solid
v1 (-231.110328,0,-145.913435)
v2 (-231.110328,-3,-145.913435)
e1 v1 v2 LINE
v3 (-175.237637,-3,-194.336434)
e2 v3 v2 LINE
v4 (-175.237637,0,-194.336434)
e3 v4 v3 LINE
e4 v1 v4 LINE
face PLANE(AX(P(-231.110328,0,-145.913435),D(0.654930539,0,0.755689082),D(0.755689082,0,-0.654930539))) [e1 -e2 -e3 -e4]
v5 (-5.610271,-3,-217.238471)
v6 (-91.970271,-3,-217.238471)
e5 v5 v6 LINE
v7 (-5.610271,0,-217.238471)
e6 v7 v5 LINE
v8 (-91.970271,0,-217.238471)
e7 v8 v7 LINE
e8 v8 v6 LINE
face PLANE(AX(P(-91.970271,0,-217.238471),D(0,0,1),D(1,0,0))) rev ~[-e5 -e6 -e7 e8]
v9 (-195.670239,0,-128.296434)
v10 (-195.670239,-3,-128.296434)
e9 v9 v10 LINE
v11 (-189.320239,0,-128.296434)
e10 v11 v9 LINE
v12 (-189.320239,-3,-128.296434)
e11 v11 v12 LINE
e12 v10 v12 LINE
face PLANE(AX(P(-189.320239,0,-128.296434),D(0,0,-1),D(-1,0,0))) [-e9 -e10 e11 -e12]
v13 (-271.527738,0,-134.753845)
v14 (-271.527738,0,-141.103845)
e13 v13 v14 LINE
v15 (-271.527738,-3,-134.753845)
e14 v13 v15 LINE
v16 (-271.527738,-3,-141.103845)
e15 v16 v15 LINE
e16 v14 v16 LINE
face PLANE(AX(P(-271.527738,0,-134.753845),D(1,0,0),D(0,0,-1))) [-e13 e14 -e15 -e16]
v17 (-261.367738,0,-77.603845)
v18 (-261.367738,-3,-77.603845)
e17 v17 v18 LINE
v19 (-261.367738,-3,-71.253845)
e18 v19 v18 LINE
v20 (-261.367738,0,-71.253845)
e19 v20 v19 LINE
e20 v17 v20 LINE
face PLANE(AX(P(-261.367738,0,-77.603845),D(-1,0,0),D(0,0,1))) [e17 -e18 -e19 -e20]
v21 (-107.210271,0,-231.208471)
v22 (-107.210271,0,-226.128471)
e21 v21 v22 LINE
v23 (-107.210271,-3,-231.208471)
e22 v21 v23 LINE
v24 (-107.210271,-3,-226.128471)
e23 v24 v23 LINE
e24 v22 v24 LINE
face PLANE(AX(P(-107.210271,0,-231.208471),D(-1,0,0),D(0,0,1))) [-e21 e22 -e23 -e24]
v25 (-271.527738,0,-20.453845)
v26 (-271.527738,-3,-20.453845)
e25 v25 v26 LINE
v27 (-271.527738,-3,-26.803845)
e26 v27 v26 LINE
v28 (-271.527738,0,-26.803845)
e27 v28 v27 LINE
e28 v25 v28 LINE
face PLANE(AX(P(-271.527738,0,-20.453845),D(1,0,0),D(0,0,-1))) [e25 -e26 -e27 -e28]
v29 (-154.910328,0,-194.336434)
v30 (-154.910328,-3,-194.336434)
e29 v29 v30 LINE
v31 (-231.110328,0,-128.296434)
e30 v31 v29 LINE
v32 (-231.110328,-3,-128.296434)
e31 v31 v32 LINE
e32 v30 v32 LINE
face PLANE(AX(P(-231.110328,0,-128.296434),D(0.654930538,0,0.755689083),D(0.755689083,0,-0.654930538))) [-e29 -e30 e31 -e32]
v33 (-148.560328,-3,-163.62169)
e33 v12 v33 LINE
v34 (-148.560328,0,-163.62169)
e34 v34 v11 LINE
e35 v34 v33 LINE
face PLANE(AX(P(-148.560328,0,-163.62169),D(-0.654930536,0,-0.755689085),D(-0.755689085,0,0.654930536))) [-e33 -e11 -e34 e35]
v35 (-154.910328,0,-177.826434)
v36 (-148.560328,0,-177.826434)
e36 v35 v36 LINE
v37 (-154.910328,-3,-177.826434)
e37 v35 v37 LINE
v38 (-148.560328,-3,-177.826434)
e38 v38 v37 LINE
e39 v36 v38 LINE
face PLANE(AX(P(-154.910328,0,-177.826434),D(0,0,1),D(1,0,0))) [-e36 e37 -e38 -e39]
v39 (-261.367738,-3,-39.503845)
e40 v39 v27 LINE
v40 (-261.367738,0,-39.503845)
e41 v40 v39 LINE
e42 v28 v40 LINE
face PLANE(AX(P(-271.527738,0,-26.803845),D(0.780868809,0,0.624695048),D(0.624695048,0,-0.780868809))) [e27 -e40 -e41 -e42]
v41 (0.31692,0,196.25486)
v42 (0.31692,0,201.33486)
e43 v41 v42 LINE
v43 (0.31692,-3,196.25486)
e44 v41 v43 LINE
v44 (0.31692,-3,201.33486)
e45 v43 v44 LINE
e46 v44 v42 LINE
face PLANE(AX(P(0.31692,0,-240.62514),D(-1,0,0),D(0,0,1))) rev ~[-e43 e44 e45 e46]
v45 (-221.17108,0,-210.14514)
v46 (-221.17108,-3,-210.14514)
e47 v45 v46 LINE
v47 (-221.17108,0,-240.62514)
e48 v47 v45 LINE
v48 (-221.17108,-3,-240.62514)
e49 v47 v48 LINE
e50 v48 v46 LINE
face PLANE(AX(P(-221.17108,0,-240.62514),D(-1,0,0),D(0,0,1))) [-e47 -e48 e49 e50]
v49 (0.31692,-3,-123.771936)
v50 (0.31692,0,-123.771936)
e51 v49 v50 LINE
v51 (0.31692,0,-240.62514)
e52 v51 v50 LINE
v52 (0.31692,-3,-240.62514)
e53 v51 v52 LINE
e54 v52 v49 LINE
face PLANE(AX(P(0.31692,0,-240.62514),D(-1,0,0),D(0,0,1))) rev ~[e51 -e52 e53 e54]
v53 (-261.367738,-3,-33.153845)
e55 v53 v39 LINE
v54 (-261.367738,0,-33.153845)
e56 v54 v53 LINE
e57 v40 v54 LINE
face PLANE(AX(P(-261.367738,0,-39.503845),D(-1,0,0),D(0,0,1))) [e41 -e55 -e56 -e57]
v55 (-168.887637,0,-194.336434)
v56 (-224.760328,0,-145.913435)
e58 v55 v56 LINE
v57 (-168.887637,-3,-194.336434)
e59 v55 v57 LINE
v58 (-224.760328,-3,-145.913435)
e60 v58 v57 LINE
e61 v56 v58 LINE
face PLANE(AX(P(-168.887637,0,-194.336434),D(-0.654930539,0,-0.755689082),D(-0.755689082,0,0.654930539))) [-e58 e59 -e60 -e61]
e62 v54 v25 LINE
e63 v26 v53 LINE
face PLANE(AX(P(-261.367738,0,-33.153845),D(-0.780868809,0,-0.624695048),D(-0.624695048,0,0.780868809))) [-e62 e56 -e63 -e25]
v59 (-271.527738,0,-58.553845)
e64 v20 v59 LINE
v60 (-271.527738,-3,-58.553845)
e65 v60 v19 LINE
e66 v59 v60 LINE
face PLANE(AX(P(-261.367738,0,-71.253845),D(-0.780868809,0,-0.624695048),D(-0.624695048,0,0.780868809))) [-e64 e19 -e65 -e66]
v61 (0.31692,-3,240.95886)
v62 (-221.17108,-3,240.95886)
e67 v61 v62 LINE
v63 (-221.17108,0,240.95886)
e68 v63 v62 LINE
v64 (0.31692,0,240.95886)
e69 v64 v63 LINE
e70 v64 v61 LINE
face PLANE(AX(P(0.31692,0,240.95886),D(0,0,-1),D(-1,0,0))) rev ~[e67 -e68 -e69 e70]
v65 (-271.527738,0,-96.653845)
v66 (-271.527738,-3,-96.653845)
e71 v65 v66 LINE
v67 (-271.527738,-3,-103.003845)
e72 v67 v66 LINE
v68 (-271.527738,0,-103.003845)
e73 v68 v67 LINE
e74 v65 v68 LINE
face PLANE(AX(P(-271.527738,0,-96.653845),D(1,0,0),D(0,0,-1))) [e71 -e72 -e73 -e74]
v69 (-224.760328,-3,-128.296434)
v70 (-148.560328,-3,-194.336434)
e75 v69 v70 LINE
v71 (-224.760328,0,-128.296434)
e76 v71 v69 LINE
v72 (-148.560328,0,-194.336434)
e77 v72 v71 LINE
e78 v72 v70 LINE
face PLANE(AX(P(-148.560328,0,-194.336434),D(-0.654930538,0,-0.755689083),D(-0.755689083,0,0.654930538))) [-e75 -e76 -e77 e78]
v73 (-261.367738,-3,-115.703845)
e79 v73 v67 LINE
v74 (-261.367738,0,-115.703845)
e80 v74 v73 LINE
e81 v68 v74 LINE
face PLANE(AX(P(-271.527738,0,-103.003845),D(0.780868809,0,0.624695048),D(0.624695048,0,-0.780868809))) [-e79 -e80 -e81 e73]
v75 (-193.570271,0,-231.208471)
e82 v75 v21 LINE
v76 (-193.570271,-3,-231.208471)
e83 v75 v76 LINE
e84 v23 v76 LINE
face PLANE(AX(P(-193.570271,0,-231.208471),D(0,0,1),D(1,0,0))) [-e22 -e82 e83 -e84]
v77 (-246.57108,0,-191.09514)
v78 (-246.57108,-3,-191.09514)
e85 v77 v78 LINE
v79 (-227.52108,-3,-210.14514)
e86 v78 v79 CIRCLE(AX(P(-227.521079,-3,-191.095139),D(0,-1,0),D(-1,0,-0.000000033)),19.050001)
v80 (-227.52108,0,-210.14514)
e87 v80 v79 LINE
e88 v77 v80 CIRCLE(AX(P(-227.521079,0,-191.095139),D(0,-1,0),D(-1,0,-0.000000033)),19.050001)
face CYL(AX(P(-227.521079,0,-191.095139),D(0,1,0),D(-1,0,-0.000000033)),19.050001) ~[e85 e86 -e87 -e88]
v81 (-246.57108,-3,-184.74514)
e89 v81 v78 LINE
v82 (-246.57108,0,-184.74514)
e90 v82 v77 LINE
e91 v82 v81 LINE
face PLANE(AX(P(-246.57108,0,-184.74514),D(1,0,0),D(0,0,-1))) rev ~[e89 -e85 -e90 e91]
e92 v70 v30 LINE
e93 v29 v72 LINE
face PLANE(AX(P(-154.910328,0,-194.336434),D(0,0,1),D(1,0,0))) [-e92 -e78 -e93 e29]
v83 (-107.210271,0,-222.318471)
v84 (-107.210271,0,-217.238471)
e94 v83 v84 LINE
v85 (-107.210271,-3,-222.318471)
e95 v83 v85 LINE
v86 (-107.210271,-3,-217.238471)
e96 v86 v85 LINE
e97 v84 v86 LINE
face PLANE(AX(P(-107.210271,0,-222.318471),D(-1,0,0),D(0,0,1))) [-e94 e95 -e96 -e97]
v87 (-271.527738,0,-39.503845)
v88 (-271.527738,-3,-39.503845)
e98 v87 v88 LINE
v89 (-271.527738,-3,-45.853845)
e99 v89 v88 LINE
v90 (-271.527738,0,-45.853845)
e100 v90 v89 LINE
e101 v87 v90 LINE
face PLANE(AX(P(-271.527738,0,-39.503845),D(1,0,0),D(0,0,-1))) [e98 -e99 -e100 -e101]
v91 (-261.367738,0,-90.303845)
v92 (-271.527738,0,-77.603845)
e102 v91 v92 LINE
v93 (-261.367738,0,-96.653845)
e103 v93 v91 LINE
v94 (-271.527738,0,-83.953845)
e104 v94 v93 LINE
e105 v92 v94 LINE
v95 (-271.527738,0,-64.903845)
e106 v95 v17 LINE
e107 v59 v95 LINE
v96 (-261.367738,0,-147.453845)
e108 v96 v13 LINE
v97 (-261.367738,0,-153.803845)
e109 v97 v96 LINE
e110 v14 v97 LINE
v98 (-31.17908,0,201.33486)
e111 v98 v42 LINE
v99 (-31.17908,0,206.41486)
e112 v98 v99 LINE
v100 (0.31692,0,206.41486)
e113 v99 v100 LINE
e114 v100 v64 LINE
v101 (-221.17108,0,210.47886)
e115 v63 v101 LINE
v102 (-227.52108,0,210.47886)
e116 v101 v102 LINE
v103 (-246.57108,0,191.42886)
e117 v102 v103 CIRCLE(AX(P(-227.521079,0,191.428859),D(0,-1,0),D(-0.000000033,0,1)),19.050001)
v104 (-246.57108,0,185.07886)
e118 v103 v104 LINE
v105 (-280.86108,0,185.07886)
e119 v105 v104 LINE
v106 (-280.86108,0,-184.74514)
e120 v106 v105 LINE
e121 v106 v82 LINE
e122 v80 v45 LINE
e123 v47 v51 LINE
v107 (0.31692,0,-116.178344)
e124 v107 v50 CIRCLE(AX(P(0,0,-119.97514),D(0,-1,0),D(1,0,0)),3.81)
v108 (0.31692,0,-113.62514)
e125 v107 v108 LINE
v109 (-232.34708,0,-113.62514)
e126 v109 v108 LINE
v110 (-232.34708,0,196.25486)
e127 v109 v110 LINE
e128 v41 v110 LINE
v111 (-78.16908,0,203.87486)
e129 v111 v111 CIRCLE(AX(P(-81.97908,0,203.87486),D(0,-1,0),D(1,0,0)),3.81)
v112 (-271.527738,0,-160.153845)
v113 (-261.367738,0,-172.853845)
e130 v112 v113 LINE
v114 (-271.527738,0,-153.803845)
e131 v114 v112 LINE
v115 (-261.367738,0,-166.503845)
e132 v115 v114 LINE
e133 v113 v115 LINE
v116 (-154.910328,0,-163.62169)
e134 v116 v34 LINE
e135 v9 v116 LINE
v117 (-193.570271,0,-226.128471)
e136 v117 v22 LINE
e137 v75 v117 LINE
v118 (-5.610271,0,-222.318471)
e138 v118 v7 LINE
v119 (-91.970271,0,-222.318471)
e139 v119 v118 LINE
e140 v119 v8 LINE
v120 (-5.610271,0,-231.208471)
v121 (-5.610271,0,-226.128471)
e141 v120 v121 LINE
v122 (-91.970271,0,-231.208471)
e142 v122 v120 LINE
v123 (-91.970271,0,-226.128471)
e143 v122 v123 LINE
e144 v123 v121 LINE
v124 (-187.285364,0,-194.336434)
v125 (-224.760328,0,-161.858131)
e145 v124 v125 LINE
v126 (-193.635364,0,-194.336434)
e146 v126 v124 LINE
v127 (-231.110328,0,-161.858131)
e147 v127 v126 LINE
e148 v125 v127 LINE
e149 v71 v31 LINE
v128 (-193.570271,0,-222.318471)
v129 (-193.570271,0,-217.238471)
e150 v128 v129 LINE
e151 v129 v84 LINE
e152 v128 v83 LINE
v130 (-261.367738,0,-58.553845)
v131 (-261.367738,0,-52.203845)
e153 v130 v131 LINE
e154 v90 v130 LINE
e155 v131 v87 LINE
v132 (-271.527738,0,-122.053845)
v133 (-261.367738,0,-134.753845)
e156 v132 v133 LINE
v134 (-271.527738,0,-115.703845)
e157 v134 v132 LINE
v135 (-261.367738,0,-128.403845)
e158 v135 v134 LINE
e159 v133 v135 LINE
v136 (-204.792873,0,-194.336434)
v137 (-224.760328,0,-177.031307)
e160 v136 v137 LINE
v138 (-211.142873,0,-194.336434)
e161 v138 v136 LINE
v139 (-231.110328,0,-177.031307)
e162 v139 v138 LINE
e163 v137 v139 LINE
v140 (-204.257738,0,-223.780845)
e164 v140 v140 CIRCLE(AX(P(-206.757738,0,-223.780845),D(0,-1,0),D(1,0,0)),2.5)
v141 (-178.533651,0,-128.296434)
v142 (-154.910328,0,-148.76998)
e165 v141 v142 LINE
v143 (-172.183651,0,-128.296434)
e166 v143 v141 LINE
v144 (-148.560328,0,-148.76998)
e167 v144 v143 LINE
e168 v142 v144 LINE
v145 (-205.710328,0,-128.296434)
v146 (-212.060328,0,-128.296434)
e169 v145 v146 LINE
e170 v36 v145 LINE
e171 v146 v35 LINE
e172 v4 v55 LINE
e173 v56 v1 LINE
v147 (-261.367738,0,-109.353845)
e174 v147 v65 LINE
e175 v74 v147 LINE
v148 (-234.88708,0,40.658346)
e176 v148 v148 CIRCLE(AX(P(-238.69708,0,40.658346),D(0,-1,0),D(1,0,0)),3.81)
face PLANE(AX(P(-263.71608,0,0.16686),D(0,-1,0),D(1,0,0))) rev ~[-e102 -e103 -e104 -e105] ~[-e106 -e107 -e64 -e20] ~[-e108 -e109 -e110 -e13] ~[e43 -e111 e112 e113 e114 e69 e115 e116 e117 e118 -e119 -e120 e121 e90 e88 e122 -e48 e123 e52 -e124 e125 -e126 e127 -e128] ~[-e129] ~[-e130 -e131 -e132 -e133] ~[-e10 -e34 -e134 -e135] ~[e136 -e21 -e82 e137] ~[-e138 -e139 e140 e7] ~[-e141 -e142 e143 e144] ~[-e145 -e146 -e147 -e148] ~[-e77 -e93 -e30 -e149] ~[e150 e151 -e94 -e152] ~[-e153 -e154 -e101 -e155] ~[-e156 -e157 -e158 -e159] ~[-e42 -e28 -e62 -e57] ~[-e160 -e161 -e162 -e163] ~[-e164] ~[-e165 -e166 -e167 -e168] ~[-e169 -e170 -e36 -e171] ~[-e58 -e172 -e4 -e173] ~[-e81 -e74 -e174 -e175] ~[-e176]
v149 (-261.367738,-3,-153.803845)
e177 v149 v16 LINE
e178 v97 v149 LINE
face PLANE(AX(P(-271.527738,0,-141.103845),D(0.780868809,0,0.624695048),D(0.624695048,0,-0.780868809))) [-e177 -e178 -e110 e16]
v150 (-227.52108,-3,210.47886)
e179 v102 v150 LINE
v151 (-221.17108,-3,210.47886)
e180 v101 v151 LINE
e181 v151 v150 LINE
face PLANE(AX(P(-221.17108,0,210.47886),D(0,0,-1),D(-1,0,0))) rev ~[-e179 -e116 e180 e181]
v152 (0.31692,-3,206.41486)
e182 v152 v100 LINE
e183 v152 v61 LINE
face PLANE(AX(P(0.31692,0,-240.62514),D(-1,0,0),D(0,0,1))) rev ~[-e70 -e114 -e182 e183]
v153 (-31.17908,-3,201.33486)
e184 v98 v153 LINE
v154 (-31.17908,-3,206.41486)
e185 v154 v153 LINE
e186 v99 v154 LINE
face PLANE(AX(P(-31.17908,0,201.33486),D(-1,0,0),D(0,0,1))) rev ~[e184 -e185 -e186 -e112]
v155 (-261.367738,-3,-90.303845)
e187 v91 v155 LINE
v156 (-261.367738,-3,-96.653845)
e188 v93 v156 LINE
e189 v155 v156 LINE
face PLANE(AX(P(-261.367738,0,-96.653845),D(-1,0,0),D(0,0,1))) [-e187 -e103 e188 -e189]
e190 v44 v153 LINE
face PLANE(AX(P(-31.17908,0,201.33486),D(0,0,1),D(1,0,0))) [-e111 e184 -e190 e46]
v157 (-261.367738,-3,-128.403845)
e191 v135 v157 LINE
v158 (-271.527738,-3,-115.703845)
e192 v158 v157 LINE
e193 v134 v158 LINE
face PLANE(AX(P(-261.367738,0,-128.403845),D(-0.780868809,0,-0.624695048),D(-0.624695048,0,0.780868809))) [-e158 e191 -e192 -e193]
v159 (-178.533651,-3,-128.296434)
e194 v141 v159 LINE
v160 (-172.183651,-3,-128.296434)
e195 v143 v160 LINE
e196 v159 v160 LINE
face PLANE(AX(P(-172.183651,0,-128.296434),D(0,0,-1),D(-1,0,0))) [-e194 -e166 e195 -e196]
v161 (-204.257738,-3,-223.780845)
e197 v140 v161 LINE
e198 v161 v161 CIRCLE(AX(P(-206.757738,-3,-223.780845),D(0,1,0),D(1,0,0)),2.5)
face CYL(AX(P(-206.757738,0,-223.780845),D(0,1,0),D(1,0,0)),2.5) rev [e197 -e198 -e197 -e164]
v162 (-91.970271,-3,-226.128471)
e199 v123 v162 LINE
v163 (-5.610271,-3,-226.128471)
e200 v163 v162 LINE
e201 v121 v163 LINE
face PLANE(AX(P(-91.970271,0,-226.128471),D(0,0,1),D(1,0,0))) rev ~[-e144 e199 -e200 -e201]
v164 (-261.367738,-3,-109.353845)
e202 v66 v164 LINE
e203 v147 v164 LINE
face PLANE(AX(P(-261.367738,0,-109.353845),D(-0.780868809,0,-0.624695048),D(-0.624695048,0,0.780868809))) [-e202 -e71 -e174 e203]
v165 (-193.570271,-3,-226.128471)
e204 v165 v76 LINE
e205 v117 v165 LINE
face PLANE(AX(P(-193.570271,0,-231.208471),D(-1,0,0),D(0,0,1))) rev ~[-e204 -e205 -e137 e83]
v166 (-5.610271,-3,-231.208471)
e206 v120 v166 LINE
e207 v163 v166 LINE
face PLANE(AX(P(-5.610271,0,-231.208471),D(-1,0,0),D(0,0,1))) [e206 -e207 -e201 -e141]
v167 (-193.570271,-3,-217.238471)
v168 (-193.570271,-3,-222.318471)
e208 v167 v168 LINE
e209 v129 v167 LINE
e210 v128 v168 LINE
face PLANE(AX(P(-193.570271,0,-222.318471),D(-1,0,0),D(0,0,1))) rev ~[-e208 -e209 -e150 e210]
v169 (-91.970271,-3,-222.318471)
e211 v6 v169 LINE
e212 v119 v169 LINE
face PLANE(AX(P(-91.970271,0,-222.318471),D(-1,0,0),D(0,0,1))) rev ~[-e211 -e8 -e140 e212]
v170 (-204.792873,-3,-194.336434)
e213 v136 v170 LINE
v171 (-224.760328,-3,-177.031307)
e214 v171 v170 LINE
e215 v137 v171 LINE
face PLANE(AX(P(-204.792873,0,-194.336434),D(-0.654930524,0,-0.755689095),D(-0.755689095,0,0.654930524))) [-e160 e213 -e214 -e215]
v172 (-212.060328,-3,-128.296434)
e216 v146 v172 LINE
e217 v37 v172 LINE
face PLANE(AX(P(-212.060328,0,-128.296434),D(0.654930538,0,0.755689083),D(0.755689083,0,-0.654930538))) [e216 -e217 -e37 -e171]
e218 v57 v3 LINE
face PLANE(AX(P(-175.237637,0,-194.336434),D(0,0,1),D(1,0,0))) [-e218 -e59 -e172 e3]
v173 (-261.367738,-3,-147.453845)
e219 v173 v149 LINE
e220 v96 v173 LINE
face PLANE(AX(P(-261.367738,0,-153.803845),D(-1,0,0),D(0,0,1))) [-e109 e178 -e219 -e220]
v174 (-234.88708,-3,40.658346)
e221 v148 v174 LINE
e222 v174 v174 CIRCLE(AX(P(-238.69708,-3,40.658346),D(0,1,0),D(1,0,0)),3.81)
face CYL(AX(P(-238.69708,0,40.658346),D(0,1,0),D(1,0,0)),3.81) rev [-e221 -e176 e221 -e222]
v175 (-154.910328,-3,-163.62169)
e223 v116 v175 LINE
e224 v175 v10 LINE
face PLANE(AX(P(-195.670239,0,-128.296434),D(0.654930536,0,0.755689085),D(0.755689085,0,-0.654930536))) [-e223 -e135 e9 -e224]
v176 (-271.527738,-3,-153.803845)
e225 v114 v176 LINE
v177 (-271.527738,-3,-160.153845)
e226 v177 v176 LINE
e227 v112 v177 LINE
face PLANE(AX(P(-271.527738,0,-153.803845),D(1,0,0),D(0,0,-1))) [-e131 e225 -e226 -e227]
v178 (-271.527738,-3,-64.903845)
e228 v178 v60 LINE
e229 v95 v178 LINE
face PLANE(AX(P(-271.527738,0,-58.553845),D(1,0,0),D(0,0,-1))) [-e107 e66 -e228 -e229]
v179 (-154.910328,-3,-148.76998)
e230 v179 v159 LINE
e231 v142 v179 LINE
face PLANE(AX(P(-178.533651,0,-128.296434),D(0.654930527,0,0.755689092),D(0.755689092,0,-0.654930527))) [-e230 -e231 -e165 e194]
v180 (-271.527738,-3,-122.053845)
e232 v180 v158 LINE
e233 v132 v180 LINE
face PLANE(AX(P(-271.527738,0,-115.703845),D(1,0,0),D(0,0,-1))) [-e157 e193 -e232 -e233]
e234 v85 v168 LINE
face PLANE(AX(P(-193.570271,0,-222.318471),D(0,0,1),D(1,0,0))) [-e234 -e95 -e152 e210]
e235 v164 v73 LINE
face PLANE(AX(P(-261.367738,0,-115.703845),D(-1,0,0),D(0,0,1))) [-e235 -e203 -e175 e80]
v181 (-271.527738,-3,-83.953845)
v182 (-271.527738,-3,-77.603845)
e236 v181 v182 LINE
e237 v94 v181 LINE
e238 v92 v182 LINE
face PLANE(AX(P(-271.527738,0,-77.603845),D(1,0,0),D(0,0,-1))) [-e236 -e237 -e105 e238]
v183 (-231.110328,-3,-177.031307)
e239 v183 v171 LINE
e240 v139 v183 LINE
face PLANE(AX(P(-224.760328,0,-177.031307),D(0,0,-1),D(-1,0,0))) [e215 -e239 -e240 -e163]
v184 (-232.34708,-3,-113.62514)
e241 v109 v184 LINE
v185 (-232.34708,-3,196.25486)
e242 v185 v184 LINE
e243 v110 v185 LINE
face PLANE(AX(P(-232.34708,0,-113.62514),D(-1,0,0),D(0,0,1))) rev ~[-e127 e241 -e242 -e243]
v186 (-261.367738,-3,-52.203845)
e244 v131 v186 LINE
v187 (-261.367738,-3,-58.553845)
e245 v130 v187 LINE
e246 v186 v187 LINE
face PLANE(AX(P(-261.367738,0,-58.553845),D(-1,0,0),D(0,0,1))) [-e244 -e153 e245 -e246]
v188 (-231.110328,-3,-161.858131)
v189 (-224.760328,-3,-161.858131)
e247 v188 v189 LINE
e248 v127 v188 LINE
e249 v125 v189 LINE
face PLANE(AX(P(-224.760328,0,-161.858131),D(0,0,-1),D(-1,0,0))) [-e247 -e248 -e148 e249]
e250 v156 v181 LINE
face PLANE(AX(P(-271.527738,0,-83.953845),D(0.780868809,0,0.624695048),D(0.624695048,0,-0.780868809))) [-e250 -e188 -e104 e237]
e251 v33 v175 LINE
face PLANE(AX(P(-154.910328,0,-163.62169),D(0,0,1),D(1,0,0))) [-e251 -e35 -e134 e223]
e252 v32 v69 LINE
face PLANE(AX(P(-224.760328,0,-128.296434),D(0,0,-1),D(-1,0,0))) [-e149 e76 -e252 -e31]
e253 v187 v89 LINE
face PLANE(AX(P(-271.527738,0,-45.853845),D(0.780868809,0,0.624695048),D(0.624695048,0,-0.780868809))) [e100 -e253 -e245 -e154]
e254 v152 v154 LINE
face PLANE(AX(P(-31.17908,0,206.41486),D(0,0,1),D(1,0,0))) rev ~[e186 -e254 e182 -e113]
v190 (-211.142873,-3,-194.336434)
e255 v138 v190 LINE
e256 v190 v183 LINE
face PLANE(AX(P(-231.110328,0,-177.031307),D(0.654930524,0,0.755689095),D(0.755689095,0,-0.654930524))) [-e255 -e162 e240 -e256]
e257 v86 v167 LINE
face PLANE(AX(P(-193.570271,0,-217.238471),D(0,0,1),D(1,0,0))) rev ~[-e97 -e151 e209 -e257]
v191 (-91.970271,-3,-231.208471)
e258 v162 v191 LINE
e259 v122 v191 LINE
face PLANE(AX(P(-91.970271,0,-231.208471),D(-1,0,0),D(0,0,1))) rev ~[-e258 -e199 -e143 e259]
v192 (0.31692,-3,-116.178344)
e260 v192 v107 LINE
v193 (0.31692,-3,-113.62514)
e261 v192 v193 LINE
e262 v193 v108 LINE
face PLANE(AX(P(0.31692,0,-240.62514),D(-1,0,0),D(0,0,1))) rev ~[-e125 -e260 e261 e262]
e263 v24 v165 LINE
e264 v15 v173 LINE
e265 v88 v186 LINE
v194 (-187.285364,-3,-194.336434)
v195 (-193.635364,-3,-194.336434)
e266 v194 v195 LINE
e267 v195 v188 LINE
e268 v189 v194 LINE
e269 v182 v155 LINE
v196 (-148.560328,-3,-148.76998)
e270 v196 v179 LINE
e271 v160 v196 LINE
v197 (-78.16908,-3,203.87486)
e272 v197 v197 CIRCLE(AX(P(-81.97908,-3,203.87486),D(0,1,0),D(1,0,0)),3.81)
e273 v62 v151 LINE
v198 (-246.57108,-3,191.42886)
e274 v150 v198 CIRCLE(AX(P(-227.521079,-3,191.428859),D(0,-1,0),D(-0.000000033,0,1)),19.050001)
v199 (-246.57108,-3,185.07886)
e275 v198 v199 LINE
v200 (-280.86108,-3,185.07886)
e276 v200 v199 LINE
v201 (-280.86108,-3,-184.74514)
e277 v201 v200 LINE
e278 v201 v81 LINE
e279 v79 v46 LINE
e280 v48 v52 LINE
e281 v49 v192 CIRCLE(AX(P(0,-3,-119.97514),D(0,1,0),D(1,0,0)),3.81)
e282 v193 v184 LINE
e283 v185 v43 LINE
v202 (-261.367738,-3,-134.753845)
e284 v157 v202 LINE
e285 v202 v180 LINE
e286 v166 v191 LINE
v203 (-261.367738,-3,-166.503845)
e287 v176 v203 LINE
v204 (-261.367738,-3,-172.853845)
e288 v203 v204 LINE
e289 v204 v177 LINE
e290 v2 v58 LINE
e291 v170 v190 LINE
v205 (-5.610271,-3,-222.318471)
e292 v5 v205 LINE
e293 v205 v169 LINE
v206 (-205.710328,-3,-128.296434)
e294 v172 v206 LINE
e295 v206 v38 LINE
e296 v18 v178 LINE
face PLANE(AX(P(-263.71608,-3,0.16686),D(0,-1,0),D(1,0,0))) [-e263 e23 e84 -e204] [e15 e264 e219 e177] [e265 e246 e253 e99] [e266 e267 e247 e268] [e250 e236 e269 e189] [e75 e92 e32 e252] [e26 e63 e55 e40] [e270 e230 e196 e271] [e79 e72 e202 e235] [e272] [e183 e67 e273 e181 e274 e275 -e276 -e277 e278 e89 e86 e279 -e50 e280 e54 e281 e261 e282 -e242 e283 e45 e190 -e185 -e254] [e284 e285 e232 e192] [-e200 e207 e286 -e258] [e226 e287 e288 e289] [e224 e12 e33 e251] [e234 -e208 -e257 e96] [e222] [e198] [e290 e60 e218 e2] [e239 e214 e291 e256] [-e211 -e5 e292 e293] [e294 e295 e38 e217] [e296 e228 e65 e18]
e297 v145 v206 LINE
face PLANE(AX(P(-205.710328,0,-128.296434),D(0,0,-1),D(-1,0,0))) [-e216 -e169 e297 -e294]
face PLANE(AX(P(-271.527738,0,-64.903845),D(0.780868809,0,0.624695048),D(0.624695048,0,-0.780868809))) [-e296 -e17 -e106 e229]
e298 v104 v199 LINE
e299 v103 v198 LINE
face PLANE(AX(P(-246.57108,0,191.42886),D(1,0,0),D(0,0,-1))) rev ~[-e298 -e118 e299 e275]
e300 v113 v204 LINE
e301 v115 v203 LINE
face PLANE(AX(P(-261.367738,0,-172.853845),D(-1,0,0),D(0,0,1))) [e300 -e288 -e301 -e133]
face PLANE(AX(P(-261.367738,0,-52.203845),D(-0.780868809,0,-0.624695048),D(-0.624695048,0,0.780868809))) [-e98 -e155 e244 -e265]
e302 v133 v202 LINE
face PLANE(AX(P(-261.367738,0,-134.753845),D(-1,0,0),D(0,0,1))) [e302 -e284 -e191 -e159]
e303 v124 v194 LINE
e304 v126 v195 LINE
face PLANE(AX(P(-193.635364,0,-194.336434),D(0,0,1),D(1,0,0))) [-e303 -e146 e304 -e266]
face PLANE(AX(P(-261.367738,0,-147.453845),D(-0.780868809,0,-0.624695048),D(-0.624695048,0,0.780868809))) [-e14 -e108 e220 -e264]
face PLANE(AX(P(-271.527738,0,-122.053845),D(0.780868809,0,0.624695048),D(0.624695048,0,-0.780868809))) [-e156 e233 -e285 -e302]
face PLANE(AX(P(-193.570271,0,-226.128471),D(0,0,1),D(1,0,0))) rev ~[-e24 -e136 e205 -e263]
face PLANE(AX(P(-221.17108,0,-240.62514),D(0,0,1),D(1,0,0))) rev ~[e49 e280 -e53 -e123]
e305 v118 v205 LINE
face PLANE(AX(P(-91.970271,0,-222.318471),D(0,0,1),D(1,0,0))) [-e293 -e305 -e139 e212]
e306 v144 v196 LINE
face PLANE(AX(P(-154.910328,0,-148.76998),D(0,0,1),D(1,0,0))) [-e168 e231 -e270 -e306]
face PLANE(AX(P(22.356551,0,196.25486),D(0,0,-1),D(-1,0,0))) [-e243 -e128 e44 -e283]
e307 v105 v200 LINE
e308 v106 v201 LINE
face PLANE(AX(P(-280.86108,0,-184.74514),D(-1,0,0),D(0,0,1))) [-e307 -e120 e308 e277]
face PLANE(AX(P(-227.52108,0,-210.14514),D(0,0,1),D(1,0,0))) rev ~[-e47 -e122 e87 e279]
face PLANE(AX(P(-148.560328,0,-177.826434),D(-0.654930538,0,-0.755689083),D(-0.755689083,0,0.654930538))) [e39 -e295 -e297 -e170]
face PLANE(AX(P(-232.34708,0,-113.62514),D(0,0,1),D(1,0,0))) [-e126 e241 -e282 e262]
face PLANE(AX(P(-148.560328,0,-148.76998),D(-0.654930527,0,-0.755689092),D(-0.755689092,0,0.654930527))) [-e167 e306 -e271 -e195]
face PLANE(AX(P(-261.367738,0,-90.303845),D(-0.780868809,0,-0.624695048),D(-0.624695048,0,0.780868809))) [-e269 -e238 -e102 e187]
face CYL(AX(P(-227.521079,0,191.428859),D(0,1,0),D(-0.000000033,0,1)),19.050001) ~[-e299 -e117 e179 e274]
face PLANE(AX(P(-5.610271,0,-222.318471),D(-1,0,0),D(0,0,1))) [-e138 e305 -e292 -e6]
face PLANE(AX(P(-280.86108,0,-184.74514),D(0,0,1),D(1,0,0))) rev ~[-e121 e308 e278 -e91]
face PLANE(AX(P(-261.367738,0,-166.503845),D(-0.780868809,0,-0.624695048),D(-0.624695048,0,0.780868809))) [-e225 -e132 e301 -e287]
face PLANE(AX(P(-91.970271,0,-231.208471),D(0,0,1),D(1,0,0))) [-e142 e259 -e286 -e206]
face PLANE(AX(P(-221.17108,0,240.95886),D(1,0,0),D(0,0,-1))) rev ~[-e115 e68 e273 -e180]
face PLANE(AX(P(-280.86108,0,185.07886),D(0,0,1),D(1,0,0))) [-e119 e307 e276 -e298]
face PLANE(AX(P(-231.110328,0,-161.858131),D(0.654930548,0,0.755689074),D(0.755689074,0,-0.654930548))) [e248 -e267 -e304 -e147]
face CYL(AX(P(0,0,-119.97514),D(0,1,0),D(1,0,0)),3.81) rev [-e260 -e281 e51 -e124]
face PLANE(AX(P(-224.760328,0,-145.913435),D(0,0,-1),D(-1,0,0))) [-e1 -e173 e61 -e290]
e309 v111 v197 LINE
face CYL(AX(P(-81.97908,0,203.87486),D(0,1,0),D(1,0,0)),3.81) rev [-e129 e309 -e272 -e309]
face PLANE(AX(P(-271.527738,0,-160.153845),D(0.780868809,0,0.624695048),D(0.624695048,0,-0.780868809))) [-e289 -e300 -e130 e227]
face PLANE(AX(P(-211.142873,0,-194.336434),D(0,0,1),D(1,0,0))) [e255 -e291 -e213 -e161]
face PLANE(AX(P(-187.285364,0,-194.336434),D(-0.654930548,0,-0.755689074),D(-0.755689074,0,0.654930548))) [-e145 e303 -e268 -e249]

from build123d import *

# Parameters (mm, degrees)
F0_W     = 34.29
F0_H     = 369.824
F0_W_2   = 221.488
F0_H_2   = 30.48
F1_DEPTH = 3
F2_W     = 212.566798
F2_H     = 309.88
F2_W_2   = 19.780282
F2_W_3   = 22.356551
F2_W_4   = 86.36
F2_H_2   = 5.08
F2_R     = 2.5
F2_R_2   = 3.81
F2_W_5   = 57.019912
F3_DEPTH = 25.4
F5_DEPTH = 25.4


with BuildPart() as f1:
    # F0 (on Front) → F1 (new body)
    with BuildSketch(Plane.XZ):
        with Locations((-263.71608, 0.16686)):
            Rectangle(F0_W, F0_H)
        with BuildLine():
            Line((-246.57108, 191.42886), (-246.57108, 185.07886))
            Line((-246.57108, 185.07886), (-246.57108, -184.74514))
            Line((-246.57108, -184.74514), (-246.57108, -191.09514))
            ThreePointArc((-246.57108, -191.09514), (-240.991464, -204.565524), (-227.52108, -210.14514))
            Line((-227.52108, -210.14514), (-221.17108, -210.14514))
            Line((-221.17108, -210.14514), (0.31692, -210.14514))
            Line((0.31692, -210.14514), (0.31692, 210.47886))
            Line((0.31692, 210.47886), (-202.12108, 210.47886))
            Line((-202.12108, 210.47886), (-221.17108, 210.47886))
            Line((-221.17108, 210.47886), (-227.52108, 210.47886))
            ThreePointArc((-227.52108, 210.47886), (-240.991464, 204.899244), (-246.57108, 191.42886))
        make_face()
        Polygon((-221.17108, 240.95886), (-221.17108, 210.47886), (-202.12108, 210.47886), (0.31692, 210.47886), (0.31692, 240.95886), align=None)
        with Locations((-110.42708, -225.38514)):
            Rectangle(F0_W_2, F0_H_2)
    extrude(amount=F1_DEPTH)

    # F2 (on Front) → F3 (cut)
    with BuildSketch(Plane.XZ):
        with Locations((-126.063681, 41.31486)):
            Rectangle(F2_W, F2_H)
        with Locations((-9.890141, 41.31486)):
            Rectangle(F2_W_2, F2_H)
        with Locations((11.178275, 41.31486)):
            Rectangle(F2_W_3, F2_H)
        Polygon((-261.367738, -166.503845), (-271.527738, -153.803845), (-271.527738, -160.153845), (-261.367738, -172.853845), align=None)
        Polygon((-271.527738, -134.753845), (-271.527738, -141.103845), (-261.367738, -153.803845), (-261.367738, -147.453845), align=None)
        Polygon((-271.527738, -122.053845), (-261.367738, -134.753845), (-261.367738, -128.403845), (-271.527738, -115.703845), align=None)
        Polygon((-271.527738, -103.003845), (-261.367738, -115.703845), (-261.367738, -109.353845), (-271.527738, -96.653845), align=None)
        Polygon((-271.527738, -83.953845), (-261.367738, -96.653845), (-261.367738, -90.303845), (-271.527738, -77.603845), align=None)
        Polygon((-271.527738, -64.903845), (-261.367738, -77.603845), (-261.367738, -71.253845), (-271.527738, -58.553845), align=None)
        Polygon((-271.527738, -45.853845), (-261.367738, -58.553845), (-261.367738, -52.203845), (-271.527738, -39.503845), align=None)
        Polygon((-271.527738, -26.803845), (-261.367738, -39.503845), (-261.367738, -33.153845), (-271.527738, -20.453845), align=None)
        with Locations((-150.390271, -228.668471)):
            Rectangle(F2_W_4, F2_H_2)
        with Locations((-150.390271, -219.778471)):
            Rectangle(F2_W_4, F2_H_2)
        with Locations((-48.790271, -219.778471)):
            Rectangle(F2_W_4, F2_H_2)
        with Locations((-48.790271, -228.668471)):
            Rectangle(F2_W_4, F2_H_2)
        with Locations((-206.757738, -223.780845)):
            Circle(F2_R)
        with Locations((-81.97908, 203.87486)):
            Circle(F2_R_2)
        with Locations((-238.69708, 40.658346)):
            Circle(F2_R_2)
        with Locations((0, -119.97514)):
            Circle(F2_R_2)
        with Locations((-2.669124, 203.87486)):
            Rectangle(F2_W_5, F2_H_2)
    extrude(amount=F3_DEPTH, mode=Mode.SUBTRACT)

    # F4 (on Front) → F5 (cut)
    with BuildSketch(Plane.XZ):
        Polygon((-224.760328, -128.296434), (-231.110328, -128.296434), (-154.910328, -194.336434), (-148.560328, -194.336434), align=None)
        Polygon((-205.710328, -128.296434), (-212.060328, -128.296434), (-154.910328, -177.826434), (-148.560328, -177.826434), align=None)
        Polygon((-224.760328, -145.913435), (-231.110328, -145.913435), (-175.237637, -194.336434), (-168.887637, -194.336434), align=None)
        Polygon((-224.760328, -161.858131), (-231.110328, -161.858131), (-193.635364, -194.336434), (-187.285364, -194.336434), align=None)
        Polygon((-224.760328, -177.031307), (-231.110328, -177.031307), (-211.142873, -194.336434), (-204.792873, -194.336434), align=None)
        Polygon((-154.910328, -163.62169), (-148.560328, -163.62169), (-189.320239, -128.296434), (-195.670239, -128.296434), align=None)
        Polygon((-154.910328, -148.76998), (-148.560328, -148.76998), (-172.183651, -128.296434), (-178.533651, -128.296434), align=None)
    extrude(amount=F5_DEPTH, mode=Mode.SUBTRACT)


solid = f1.part
